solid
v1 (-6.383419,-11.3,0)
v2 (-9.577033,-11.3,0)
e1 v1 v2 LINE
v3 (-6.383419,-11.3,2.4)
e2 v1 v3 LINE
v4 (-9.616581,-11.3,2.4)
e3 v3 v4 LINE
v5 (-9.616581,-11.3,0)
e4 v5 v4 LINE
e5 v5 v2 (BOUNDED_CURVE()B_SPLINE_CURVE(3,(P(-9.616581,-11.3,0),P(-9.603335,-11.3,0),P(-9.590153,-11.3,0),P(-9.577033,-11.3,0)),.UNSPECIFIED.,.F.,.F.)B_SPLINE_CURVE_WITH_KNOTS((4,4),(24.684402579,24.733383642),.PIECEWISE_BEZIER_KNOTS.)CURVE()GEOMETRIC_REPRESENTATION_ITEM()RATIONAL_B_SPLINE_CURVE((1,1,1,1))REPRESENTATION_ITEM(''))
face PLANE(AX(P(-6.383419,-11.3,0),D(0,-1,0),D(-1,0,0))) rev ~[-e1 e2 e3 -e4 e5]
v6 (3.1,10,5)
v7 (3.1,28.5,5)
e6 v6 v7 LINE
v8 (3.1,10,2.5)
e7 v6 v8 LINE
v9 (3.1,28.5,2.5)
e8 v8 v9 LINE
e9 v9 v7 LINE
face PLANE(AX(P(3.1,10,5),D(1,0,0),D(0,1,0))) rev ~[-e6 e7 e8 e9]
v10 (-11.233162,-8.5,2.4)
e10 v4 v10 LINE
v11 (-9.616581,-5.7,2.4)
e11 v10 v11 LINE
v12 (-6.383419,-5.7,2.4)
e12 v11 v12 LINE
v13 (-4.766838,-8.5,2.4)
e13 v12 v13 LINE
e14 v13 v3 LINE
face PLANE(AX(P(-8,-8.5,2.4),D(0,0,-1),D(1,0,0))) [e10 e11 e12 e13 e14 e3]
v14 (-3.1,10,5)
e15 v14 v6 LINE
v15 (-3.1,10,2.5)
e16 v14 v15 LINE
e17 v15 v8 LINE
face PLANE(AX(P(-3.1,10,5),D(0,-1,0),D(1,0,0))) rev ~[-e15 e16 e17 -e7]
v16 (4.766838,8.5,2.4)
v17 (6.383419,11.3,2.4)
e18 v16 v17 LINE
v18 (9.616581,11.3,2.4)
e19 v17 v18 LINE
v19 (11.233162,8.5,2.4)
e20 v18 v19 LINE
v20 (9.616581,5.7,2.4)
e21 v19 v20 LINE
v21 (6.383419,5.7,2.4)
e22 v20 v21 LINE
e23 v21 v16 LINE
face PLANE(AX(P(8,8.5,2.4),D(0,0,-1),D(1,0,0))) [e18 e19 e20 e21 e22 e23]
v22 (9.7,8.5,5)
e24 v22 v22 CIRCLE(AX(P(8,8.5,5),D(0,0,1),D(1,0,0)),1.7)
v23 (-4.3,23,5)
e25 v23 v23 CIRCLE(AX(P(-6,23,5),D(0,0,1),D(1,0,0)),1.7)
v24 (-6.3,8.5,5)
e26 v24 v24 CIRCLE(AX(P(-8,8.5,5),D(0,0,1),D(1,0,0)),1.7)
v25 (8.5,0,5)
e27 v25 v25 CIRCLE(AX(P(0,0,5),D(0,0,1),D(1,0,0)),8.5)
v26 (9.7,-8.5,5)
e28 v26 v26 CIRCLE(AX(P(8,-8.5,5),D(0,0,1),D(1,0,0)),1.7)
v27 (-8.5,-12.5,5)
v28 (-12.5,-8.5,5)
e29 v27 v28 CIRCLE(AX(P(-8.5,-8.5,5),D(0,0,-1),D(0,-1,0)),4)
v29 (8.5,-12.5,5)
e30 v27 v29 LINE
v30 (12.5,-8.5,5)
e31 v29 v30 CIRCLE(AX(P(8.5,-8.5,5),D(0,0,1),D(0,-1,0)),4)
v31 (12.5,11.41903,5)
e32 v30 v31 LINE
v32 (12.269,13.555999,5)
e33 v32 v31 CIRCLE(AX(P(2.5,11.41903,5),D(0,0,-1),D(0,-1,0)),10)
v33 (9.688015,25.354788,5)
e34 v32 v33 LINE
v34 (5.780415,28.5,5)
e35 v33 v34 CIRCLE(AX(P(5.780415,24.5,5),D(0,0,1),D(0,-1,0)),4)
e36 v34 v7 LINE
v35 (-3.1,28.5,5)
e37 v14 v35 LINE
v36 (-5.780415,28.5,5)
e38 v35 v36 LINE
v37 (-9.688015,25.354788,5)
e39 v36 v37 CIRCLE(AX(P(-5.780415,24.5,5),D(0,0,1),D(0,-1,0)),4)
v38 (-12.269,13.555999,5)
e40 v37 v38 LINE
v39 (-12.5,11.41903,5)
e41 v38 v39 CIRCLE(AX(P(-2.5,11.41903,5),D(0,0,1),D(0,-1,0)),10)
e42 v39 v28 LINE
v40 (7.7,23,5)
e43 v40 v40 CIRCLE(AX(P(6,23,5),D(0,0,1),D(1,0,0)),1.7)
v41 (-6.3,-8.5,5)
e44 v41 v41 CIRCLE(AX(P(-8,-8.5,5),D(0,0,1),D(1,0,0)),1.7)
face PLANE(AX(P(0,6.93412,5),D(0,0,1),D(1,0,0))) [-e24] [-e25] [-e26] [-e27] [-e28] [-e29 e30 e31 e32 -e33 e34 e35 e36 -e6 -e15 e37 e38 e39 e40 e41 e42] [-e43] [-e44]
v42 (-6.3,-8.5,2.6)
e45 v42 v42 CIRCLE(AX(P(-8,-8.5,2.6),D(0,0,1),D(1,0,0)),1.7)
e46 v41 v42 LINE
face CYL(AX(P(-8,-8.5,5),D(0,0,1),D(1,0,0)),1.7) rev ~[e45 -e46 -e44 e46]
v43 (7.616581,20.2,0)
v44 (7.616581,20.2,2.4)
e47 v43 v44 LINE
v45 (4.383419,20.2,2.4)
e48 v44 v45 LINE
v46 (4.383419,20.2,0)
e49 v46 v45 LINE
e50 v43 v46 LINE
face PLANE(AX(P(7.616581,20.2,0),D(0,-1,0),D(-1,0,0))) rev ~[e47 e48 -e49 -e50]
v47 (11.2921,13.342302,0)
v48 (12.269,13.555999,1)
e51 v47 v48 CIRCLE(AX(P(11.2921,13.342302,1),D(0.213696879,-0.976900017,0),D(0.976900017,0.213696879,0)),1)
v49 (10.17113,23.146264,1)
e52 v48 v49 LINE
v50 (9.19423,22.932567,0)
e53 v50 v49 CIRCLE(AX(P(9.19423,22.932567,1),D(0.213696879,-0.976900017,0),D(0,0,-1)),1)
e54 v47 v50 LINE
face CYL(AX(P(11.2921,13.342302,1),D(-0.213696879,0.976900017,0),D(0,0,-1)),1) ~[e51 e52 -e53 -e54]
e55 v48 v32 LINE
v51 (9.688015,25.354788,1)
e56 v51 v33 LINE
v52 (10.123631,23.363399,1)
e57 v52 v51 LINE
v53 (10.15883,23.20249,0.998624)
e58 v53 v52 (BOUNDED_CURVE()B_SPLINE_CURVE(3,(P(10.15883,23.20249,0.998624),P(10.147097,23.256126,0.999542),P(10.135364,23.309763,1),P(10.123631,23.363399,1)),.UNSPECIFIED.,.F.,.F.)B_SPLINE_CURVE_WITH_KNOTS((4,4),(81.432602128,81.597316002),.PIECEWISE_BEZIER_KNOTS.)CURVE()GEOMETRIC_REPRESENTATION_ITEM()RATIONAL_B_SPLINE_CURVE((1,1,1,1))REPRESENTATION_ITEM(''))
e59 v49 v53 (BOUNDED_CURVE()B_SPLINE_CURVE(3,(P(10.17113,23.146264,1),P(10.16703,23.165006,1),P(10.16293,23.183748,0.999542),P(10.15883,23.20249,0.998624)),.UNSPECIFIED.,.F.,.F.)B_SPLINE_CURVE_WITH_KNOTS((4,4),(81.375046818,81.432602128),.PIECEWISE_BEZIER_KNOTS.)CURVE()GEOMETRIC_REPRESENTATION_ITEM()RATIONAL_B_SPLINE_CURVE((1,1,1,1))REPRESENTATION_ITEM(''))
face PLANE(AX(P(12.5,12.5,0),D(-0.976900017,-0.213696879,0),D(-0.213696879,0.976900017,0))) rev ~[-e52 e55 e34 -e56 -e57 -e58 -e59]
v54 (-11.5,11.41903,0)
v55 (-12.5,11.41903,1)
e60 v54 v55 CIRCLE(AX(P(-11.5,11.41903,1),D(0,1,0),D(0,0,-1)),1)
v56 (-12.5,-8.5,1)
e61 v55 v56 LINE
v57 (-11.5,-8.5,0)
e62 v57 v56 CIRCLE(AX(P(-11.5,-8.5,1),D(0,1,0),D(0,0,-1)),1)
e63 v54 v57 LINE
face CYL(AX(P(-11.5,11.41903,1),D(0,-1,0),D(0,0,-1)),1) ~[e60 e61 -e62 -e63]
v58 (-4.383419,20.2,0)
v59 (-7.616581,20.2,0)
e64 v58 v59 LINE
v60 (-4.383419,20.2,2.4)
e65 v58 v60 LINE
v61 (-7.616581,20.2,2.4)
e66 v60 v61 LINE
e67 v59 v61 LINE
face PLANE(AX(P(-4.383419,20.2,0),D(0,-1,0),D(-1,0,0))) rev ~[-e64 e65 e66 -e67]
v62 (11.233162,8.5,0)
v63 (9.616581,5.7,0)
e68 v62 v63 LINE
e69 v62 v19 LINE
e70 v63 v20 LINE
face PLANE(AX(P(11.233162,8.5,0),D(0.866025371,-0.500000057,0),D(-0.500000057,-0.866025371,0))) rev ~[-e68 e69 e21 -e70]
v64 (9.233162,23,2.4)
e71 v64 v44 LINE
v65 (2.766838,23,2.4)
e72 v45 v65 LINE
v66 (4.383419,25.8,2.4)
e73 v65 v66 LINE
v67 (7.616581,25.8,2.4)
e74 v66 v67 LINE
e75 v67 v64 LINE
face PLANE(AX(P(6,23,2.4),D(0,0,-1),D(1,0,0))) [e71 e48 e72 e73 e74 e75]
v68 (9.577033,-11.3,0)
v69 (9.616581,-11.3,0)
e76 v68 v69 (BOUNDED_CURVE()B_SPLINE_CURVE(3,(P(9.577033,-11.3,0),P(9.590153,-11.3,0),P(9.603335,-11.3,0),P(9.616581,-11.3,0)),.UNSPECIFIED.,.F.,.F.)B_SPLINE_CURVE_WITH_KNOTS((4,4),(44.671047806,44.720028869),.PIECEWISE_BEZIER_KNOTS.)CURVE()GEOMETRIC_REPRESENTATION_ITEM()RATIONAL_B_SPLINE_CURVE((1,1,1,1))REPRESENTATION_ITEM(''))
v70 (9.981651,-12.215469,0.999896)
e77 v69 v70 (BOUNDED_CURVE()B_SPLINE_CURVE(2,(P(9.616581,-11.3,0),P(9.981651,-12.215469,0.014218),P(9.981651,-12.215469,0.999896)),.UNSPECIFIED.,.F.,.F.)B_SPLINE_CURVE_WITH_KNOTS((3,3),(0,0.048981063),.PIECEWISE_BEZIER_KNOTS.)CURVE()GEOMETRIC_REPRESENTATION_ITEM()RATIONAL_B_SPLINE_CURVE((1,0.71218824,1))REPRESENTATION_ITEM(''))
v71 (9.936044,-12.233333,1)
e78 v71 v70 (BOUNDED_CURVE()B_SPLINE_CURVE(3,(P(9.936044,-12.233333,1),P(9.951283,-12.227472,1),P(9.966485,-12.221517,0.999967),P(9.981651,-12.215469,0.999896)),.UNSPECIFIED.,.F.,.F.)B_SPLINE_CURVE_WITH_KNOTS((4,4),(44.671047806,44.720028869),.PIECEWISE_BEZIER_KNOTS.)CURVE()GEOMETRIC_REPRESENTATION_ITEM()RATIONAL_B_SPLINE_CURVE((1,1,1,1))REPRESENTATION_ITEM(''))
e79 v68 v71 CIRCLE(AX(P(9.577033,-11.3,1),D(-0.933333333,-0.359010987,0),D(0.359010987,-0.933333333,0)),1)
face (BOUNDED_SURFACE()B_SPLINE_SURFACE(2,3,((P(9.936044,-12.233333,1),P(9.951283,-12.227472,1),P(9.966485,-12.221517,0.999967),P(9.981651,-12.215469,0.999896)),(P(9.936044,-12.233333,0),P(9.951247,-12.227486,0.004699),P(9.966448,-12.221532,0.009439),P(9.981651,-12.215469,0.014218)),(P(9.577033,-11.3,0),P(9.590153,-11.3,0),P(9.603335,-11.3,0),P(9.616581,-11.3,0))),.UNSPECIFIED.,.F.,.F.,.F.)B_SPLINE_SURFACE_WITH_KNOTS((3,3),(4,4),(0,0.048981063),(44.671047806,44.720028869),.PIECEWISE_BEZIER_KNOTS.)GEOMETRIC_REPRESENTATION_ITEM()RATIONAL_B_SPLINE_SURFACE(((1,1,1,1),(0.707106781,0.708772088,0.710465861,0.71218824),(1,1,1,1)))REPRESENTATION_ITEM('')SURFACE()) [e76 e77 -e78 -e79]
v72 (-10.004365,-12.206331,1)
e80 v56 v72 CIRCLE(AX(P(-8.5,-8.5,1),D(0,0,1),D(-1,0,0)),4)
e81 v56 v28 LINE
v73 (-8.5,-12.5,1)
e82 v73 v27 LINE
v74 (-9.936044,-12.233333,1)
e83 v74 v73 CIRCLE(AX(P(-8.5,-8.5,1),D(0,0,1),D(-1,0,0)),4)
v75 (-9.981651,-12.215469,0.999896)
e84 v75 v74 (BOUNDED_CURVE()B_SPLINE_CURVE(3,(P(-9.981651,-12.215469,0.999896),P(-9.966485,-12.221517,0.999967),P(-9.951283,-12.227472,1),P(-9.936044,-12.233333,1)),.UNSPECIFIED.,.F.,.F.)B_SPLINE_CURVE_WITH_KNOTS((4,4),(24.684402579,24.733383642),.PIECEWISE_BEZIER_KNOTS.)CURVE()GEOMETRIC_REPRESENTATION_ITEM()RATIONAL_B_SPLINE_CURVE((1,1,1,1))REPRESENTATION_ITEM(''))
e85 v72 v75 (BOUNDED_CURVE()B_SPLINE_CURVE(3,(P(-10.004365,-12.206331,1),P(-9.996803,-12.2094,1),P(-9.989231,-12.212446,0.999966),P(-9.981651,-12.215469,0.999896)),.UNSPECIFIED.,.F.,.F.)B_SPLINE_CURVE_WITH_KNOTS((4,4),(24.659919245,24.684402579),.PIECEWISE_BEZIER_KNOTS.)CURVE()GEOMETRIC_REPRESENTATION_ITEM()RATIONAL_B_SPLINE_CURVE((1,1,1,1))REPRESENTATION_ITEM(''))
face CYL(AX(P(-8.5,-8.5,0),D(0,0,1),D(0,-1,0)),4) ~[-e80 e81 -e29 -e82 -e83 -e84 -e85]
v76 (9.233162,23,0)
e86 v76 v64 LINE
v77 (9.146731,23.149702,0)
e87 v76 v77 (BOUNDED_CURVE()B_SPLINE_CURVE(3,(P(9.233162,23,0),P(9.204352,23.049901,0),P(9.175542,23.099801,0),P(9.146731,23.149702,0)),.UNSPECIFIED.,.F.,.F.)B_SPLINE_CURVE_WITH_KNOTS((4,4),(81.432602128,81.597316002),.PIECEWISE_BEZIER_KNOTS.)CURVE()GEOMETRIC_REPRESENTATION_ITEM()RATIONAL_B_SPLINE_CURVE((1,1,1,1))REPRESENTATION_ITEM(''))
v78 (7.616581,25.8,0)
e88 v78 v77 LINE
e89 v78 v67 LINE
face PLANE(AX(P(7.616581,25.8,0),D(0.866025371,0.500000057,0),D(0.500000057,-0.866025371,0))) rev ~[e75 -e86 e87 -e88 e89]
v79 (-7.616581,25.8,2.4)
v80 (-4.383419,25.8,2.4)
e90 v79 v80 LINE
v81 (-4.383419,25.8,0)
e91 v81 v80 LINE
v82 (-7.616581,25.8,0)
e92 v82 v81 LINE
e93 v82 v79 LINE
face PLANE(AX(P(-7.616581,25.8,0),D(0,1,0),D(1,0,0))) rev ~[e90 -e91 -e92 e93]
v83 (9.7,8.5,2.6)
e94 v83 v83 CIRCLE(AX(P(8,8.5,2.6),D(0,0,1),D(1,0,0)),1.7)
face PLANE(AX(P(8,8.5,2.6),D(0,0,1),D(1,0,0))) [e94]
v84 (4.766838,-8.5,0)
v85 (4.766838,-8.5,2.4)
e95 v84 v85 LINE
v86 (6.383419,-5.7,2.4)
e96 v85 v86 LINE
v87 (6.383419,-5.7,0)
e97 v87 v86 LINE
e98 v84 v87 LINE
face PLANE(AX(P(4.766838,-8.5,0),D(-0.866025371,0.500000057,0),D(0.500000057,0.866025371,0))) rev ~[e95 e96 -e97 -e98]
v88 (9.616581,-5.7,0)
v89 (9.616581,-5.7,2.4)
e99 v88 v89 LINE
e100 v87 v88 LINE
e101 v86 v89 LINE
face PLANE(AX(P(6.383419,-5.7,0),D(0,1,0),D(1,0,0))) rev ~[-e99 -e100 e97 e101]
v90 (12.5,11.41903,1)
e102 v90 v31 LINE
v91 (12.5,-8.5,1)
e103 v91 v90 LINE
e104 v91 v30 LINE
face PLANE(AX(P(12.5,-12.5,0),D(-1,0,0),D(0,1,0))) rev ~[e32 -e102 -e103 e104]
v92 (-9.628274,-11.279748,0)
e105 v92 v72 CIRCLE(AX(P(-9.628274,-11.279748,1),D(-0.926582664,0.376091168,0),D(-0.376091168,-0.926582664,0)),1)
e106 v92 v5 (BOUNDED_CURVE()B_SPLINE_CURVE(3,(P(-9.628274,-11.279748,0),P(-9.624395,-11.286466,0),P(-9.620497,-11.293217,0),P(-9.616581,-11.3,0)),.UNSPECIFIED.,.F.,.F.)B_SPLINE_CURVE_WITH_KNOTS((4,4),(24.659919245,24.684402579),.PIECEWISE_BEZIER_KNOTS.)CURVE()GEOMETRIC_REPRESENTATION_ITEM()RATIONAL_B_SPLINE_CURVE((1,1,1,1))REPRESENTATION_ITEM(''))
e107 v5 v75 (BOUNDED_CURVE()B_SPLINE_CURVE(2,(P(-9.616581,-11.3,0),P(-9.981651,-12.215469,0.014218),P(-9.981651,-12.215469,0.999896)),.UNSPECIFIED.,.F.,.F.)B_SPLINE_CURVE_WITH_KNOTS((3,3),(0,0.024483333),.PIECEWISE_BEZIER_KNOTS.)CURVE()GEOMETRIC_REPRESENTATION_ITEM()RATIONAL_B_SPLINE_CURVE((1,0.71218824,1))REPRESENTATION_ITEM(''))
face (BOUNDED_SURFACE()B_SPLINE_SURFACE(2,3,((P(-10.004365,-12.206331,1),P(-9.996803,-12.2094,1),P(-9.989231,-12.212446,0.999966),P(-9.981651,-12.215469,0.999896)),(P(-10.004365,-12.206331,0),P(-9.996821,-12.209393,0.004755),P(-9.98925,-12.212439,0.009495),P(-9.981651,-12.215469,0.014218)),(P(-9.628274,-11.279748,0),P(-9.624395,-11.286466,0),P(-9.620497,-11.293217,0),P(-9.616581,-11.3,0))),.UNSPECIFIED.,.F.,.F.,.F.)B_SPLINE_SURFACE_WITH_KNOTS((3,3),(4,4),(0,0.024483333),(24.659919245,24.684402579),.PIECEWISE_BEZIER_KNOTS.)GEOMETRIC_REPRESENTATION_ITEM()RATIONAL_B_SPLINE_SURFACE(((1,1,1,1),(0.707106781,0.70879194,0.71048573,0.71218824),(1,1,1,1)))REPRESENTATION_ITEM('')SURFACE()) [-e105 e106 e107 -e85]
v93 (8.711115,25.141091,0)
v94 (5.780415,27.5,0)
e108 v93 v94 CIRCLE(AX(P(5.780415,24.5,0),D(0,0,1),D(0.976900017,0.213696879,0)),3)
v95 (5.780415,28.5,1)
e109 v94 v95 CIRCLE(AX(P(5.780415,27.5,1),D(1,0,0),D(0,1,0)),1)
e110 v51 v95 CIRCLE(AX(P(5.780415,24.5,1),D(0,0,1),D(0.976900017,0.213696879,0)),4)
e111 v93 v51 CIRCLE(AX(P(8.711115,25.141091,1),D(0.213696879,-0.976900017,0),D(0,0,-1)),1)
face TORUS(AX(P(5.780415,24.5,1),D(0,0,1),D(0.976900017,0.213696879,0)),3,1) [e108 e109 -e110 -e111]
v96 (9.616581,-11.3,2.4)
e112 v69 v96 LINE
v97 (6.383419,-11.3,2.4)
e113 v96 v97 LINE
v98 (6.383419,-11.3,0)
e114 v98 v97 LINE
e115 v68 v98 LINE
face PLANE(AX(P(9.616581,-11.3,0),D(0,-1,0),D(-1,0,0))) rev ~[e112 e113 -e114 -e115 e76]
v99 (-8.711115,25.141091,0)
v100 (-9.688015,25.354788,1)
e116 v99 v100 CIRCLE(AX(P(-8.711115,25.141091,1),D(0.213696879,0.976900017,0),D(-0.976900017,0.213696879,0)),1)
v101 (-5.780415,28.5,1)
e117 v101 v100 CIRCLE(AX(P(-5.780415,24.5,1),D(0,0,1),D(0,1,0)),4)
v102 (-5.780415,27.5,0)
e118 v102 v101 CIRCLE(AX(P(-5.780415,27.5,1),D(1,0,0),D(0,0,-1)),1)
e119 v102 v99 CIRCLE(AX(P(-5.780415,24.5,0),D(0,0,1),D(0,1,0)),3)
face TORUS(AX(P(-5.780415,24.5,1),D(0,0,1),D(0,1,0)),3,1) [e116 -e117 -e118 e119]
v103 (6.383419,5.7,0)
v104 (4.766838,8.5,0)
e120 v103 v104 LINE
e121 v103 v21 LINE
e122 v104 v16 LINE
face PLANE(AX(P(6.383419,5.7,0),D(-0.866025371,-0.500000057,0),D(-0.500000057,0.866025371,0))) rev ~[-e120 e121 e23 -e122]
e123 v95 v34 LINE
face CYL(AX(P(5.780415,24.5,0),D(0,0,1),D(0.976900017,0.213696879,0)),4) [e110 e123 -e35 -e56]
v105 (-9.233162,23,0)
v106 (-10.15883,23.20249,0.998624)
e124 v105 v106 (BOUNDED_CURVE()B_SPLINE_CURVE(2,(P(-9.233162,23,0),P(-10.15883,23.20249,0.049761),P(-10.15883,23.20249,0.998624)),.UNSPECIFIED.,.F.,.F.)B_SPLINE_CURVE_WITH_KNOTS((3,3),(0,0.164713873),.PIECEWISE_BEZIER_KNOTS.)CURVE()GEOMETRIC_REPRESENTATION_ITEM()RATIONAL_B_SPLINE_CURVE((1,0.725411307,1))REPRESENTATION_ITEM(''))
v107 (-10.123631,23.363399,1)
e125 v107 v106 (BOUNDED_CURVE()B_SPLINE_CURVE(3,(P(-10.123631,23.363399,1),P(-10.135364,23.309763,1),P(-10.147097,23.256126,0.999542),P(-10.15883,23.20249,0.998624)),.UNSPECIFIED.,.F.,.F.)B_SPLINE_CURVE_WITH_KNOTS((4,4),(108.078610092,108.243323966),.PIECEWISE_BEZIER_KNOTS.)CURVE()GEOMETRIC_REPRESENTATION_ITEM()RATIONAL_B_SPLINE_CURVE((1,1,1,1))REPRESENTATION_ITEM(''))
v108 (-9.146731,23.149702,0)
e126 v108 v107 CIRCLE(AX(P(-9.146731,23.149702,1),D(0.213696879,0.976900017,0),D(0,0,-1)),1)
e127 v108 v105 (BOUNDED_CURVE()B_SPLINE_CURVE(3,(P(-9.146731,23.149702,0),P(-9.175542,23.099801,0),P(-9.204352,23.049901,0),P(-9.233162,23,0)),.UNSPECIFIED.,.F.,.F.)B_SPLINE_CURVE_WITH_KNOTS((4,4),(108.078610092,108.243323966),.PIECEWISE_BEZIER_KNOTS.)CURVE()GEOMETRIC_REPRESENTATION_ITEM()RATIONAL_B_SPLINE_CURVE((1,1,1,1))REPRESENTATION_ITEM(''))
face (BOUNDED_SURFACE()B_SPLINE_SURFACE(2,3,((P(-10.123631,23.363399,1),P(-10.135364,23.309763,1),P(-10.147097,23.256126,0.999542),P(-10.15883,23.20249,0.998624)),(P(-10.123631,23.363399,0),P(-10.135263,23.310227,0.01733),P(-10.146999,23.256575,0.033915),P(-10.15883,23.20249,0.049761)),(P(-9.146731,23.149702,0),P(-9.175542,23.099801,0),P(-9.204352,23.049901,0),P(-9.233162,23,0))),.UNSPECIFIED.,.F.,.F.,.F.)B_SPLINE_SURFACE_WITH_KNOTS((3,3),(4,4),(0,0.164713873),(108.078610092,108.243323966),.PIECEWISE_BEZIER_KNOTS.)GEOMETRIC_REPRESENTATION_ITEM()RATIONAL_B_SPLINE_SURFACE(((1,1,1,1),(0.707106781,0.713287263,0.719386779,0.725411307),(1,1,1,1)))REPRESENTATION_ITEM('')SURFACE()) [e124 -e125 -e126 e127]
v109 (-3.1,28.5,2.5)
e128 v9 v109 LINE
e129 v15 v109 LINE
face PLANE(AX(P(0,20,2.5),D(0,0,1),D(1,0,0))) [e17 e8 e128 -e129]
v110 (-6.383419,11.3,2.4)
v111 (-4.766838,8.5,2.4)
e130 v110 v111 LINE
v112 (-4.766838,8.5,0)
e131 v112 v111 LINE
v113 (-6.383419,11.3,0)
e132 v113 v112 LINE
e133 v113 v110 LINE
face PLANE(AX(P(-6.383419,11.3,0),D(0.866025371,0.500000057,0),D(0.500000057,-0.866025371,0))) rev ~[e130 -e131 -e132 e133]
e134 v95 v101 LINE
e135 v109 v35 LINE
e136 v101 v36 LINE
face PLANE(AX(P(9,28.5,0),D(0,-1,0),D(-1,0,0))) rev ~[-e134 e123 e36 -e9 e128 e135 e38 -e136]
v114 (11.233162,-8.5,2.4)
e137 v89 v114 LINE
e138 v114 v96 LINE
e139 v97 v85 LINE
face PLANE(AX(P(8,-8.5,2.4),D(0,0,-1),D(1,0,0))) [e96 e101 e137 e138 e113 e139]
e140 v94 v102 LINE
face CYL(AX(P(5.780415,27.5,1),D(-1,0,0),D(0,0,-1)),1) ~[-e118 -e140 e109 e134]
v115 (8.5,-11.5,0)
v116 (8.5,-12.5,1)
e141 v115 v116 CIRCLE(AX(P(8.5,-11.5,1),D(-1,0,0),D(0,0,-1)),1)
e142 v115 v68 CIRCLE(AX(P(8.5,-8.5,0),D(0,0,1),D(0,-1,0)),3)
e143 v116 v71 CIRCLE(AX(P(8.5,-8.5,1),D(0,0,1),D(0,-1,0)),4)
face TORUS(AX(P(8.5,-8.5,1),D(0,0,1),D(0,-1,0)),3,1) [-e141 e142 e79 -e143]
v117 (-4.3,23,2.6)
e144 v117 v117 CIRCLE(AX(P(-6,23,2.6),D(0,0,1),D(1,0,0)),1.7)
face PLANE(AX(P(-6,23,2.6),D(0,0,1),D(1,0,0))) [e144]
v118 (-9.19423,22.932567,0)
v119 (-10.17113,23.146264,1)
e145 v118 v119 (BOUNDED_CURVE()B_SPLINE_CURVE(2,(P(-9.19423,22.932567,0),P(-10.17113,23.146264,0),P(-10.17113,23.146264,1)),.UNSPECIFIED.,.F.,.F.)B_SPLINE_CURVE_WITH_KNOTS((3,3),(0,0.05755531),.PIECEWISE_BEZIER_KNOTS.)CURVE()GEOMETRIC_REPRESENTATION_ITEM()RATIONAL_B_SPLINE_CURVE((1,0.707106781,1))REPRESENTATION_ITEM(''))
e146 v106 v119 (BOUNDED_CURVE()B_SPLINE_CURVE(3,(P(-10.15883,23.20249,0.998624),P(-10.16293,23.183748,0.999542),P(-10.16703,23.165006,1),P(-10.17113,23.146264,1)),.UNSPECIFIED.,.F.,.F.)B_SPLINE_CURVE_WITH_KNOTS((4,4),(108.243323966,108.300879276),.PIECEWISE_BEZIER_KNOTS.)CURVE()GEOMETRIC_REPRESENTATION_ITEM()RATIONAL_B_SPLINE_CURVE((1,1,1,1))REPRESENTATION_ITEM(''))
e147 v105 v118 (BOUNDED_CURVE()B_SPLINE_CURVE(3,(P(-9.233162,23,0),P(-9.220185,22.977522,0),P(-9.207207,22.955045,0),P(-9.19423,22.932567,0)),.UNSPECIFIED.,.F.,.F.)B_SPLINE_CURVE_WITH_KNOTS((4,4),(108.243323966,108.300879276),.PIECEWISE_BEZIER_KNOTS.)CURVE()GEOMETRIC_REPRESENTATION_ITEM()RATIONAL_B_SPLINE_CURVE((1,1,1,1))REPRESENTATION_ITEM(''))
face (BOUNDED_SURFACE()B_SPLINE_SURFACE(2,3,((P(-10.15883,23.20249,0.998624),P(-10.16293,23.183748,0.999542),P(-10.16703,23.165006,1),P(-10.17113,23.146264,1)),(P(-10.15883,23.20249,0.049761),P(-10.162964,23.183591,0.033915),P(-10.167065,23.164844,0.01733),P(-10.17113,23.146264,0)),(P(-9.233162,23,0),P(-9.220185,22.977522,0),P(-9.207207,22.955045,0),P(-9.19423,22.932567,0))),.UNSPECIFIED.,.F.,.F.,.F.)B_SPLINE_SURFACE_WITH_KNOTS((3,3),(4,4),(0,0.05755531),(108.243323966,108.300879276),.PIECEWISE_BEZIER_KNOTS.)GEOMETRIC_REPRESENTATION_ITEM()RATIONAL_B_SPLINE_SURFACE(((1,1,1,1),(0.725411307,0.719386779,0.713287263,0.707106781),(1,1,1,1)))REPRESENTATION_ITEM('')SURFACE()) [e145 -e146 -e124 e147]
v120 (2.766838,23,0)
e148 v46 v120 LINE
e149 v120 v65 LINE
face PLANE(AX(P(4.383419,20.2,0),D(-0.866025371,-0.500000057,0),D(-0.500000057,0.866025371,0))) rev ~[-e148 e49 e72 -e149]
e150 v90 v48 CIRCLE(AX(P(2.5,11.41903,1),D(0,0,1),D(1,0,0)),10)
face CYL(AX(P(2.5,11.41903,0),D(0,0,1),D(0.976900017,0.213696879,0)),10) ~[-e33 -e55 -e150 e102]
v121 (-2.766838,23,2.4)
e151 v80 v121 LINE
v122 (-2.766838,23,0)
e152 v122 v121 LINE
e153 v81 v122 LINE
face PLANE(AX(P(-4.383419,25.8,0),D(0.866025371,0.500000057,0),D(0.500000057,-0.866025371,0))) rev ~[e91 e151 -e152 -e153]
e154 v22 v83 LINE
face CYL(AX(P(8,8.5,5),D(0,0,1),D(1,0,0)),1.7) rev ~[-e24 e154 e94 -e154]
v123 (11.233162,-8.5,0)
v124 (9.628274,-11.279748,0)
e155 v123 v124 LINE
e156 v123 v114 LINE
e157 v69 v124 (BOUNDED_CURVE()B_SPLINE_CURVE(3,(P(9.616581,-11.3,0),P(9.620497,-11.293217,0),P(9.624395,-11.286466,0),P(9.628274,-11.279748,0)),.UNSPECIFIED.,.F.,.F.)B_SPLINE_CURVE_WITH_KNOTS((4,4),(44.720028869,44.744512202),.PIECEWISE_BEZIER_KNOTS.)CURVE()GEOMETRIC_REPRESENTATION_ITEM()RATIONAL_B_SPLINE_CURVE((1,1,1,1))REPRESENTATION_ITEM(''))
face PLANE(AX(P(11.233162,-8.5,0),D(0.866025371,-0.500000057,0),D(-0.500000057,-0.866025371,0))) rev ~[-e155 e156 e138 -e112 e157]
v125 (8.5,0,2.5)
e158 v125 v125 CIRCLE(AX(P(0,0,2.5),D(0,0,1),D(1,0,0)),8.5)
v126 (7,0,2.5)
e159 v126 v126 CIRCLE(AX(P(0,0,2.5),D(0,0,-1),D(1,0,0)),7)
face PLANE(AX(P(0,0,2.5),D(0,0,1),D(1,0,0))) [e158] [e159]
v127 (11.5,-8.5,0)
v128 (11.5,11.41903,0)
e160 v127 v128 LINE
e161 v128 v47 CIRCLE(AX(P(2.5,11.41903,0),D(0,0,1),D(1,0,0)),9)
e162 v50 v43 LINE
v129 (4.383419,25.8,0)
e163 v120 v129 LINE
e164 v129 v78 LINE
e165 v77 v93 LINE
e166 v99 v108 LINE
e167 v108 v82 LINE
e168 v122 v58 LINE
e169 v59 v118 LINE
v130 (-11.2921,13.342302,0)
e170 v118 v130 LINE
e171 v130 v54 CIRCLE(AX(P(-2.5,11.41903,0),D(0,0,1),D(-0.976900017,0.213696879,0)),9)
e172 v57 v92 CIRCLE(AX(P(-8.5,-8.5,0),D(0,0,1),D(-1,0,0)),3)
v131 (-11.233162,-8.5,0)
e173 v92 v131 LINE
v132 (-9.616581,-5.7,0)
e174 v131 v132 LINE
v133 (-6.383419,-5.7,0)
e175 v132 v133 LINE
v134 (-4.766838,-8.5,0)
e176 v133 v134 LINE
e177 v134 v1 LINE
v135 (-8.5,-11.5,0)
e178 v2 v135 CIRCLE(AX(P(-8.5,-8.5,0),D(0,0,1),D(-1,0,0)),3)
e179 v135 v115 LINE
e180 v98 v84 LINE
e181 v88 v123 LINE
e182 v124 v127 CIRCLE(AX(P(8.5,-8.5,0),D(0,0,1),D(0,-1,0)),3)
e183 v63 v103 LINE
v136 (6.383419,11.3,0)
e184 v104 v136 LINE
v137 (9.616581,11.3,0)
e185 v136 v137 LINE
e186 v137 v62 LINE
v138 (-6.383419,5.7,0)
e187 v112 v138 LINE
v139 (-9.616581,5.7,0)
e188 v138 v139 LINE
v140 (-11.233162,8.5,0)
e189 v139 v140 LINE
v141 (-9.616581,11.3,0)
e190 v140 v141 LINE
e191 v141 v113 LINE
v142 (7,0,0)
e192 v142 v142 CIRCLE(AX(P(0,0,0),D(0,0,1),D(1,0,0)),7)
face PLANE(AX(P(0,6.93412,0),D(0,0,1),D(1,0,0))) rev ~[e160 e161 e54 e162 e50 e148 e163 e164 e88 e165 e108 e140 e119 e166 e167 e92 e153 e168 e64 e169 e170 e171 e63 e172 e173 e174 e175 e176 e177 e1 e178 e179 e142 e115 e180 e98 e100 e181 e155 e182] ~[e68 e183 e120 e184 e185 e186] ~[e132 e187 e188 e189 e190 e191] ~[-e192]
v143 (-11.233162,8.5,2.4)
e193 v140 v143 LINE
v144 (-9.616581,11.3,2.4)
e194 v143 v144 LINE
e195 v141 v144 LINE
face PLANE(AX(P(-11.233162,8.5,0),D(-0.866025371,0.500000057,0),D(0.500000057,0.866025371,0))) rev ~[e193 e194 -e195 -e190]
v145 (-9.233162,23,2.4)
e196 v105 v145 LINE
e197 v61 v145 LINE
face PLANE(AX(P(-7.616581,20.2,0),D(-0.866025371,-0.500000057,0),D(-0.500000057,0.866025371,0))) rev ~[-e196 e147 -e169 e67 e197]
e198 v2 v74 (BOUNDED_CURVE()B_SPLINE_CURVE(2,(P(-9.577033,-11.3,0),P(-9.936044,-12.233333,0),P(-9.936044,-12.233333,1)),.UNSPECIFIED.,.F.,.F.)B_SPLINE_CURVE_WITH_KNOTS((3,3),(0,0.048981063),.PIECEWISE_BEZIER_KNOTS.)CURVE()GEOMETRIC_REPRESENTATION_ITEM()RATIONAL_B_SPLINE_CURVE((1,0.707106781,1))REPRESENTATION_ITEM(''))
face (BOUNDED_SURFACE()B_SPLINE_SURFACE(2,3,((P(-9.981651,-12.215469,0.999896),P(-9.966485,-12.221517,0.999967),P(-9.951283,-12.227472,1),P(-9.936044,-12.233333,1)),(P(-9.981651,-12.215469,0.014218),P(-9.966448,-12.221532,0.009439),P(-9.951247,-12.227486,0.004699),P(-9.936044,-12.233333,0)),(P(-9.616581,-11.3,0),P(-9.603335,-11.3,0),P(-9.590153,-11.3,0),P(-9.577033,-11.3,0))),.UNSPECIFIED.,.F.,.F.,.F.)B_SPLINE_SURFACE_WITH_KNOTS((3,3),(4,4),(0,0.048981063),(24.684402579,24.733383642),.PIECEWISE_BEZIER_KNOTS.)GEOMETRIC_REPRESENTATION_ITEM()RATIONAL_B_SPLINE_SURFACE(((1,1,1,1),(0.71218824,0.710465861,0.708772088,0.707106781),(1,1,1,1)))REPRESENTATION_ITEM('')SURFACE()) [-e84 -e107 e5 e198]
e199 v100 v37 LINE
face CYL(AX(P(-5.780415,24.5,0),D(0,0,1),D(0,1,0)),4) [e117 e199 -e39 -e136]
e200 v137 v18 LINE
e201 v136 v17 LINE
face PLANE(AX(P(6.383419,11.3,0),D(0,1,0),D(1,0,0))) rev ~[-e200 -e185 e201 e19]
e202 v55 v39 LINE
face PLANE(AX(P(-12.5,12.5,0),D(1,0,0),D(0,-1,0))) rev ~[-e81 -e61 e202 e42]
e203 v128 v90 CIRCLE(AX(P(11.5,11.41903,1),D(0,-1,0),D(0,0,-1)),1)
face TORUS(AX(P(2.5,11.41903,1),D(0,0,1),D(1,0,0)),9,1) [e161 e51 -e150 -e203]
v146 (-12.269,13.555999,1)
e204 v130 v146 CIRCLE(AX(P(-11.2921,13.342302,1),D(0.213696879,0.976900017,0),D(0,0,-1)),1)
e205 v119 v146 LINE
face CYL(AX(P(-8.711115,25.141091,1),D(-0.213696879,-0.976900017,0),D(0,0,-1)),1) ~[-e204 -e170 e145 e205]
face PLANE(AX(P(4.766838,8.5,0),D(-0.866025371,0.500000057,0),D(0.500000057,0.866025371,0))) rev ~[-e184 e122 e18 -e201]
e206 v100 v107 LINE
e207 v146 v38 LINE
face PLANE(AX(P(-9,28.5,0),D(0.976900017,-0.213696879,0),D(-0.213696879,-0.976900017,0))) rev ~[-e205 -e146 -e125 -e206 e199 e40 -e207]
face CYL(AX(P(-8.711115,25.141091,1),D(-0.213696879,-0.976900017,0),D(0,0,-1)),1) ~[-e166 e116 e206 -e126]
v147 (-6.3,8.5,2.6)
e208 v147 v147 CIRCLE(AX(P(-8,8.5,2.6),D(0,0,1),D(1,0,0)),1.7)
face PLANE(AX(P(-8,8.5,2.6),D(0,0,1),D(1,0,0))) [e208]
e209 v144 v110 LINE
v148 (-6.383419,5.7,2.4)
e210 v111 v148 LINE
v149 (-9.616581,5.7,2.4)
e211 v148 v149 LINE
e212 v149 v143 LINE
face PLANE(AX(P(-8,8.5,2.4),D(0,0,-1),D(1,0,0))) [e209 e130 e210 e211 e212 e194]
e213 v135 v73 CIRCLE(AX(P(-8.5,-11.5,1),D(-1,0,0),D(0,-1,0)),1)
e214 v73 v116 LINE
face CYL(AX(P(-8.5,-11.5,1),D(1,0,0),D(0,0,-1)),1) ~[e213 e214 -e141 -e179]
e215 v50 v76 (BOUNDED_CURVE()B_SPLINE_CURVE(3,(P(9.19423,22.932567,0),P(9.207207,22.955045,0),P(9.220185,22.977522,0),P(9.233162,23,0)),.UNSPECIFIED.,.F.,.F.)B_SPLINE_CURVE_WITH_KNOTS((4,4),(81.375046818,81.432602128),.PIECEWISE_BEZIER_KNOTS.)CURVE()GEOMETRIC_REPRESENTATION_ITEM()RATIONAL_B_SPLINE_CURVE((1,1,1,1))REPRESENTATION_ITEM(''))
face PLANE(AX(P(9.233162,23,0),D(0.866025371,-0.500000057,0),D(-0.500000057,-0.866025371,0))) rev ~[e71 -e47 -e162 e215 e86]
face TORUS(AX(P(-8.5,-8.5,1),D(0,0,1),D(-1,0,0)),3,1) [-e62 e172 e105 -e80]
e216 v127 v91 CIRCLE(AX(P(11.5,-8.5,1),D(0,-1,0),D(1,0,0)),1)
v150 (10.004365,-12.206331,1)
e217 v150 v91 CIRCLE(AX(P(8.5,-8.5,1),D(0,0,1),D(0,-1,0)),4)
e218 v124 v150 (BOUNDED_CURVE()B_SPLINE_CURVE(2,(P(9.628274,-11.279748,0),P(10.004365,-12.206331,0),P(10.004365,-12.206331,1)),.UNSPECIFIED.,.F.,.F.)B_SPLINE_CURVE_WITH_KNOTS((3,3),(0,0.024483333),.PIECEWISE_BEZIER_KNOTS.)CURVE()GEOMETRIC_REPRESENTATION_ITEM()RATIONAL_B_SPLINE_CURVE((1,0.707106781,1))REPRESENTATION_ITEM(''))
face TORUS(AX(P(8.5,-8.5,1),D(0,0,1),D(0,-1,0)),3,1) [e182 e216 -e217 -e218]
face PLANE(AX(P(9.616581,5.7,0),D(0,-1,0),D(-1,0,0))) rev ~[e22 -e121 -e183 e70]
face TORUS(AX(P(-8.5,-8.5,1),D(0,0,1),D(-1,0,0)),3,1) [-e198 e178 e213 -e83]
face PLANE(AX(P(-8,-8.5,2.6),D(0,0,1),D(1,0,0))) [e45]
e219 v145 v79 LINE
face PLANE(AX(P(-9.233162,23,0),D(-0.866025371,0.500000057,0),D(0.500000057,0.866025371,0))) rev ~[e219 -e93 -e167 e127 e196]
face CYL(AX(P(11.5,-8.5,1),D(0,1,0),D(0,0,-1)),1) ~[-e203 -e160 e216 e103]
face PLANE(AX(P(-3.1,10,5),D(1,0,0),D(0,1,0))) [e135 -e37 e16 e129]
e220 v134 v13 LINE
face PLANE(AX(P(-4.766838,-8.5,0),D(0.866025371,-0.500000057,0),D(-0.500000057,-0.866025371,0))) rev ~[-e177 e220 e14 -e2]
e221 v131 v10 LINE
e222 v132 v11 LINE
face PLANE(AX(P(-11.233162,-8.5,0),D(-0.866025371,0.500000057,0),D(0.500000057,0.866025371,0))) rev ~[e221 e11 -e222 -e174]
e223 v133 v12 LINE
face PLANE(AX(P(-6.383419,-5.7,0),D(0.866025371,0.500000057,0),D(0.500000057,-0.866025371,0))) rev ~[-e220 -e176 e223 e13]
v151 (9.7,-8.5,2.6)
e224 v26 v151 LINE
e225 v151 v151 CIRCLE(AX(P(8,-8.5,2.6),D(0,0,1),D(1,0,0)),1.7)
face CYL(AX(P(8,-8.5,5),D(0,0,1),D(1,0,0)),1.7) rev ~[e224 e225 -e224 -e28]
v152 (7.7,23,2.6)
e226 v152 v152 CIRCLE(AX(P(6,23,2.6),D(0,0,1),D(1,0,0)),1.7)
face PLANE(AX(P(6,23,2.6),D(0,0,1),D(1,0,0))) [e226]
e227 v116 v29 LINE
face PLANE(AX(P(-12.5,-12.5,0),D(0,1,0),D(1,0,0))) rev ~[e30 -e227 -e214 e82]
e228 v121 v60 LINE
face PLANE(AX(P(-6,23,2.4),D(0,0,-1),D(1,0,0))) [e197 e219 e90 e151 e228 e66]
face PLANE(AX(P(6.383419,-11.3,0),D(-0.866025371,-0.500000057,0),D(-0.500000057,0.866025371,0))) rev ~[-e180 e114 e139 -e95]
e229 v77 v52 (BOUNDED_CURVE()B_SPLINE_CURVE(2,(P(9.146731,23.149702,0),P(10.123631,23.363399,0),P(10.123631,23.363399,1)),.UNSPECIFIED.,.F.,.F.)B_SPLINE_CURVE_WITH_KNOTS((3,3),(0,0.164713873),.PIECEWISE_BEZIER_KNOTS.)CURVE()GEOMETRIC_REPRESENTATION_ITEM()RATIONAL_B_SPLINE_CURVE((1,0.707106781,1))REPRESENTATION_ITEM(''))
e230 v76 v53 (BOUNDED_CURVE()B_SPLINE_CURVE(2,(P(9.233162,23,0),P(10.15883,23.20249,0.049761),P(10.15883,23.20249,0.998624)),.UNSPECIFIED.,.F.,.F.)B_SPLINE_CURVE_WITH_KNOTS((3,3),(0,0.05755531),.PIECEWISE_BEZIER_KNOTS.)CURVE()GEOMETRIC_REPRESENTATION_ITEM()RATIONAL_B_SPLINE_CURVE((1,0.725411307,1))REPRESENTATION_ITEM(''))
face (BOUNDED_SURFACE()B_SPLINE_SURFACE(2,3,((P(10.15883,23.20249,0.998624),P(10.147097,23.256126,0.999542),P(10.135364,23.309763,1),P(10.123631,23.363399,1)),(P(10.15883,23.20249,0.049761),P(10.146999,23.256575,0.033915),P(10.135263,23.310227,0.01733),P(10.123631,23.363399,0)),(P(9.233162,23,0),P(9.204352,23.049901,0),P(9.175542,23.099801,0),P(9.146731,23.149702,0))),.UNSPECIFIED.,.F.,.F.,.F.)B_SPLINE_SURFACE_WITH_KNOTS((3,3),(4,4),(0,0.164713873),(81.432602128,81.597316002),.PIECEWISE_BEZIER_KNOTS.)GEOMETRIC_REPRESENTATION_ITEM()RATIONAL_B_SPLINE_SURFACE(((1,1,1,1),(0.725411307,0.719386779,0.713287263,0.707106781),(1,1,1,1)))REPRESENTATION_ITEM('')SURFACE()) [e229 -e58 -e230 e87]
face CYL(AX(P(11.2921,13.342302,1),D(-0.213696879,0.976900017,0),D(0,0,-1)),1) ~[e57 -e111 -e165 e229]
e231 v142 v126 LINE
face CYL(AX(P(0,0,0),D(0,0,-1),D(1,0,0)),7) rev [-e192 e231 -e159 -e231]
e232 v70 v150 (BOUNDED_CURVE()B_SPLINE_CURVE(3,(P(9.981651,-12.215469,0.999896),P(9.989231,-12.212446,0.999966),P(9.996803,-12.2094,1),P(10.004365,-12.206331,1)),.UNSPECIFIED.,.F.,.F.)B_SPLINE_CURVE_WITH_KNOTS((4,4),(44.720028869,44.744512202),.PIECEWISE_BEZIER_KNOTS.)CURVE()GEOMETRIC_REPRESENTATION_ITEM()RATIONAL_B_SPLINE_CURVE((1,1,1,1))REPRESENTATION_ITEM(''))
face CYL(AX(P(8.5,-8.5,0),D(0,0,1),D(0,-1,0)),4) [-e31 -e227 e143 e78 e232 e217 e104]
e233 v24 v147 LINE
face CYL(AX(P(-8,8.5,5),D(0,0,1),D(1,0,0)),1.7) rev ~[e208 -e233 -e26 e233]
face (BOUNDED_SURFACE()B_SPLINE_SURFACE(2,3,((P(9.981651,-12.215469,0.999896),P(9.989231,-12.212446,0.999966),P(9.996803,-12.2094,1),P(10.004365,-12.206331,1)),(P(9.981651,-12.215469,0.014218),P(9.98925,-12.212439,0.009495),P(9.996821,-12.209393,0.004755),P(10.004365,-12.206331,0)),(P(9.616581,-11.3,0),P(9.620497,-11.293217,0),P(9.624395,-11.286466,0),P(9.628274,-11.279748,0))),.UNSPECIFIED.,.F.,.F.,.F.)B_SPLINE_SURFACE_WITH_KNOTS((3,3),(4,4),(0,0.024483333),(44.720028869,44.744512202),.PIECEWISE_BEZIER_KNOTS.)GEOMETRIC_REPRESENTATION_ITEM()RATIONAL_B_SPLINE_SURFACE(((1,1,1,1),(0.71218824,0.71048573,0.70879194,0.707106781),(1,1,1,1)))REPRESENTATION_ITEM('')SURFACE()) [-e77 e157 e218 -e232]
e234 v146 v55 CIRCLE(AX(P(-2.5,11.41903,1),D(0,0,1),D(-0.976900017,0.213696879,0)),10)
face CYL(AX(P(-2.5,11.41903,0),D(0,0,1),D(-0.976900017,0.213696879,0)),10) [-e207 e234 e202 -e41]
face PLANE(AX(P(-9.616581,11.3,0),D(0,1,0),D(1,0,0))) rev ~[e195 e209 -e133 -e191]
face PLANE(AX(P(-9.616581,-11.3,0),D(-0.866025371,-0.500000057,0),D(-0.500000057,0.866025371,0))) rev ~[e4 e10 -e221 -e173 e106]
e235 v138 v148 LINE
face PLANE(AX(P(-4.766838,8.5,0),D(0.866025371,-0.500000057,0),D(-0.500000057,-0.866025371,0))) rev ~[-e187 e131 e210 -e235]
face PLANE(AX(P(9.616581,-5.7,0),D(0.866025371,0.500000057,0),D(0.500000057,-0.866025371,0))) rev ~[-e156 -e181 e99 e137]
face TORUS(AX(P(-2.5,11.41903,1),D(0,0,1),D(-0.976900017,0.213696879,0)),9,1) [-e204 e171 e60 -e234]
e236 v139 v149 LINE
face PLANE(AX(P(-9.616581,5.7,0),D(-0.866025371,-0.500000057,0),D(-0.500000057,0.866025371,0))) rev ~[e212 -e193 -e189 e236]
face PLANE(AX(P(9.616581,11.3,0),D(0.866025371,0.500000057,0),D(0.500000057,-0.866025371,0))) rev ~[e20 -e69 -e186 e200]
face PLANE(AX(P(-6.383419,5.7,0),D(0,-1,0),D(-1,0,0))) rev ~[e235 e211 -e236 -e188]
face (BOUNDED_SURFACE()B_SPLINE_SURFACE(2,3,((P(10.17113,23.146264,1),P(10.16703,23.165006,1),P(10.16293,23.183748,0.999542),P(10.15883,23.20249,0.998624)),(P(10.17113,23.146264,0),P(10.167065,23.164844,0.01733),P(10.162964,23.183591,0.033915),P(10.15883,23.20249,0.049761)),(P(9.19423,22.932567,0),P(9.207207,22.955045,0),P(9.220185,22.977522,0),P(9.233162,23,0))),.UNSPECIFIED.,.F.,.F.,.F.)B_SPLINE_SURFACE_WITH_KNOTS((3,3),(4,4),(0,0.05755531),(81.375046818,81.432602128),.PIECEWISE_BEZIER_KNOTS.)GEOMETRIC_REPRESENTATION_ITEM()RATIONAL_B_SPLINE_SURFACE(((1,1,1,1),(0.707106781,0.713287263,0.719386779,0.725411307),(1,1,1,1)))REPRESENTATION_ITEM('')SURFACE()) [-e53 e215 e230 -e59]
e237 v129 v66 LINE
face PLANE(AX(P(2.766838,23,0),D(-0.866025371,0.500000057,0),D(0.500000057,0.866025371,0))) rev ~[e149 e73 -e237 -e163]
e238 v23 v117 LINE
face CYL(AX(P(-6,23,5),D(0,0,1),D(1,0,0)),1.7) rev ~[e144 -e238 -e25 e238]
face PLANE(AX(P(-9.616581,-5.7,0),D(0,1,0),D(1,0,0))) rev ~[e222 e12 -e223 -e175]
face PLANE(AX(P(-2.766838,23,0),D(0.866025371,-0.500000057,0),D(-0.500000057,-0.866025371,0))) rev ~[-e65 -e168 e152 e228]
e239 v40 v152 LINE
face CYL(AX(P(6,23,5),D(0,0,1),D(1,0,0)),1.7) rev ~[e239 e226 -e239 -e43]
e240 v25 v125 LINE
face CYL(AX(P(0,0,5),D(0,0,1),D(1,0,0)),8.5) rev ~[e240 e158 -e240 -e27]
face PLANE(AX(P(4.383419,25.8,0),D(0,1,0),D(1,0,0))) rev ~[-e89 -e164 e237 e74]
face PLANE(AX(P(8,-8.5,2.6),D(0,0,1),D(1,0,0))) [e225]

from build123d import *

# Parameters (mm, degrees)
SKETCH_R        = 7
PAD_DEPTH       = 5
SKETCH001_R     = 8.5
SKETCH001_W     = 6.2
SKETCH001_H     = 20
POCKET_DEPTH    = 2.5
FILLET_R        = 4
FILLET001_R     = 4
POCKET001_DEPTH = 2.4
SKETCH003_R     = 1.7
POCKET002_DEPTH = 2.4
FILLET002_R     = 4
FILLET003_R     = 4
FILLET004_R     = 10
FILLET005_R     = 10
FILLET006_R     = 1


with BuildPart() as part:
    # Sketch → Pad (new body)
    with BuildSketch(Plane.XY):
        Polygon((-12.5, -12.5), (12.5, -12.5), (12.5, 12.5), (9, 28.5), (-9, 28.5), (-12.5, 12.5), align=None)
        Circle(SKETCH_R, mode=Mode.SUBTRACT)
    extrude(amount=PAD_DEPTH)

    # Sketch001 → Pocket (cut)
    with BuildSketch(Plane.XY.offset(5)):
        Circle(SKETCH001_R)
        with Locations((0, 20)):
            Rectangle(SKETCH001_W, SKETCH001_H)
    extrude(amount=-POCKET_DEPTH, mode=Mode.SUBTRACT)

    # Fillet
    fillet_edges = [part.edges().sort_by_distance(p)[0] for p in [
        (-12.5, -12.5, 2.5),
    ]]
    fillet(fillet_edges, radius=FILLET_R)

    # Fillet001
    fillet001_edges = [part.edges().sort_by_distance(p)[0] for p in [
        (12.5, -12.5, 2.5),
    ]]
    fillet(fillet001_edges, radius=FILLET001_R)

    # Sketch002 → Pocket001 (cut)
    with BuildSketch(Plane(origin=(0, 0, 0), x_dir=(1, 0, 0), z_dir=(0, 0, -1))):
        Polygon((-9.616581, 11.3), (-11.233162, 8.5), (-9.616581, 5.7), (-6.383419, 5.7), (-4.766838, 8.5), (-6.383419, 11.3), align=None)
        Polygon((6.383419, 11.3), (4.766838, 8.5), (6.383419, 5.7), (9.616581, 5.7), (11.233162, 8.5), (9.616581, 11.3), align=None)
        Polygon((-9.616581, -5.7), (-11.233162, -8.5), (-9.616581, -11.3), (-6.383419, -11.3), (-4.766838, -8.5), (-6.383419, -5.7), align=None)
        Polygon((6.383419, -5.7), (4.766838, -8.5), (6.383419, -11.3), (9.616581, -11.3), (11.233162, -8.5), (9.616581, -5.7), align=None)
        Polygon((-7.616581, -20.2), (-9.233162, -23), (-7.616581, -25.8), (-4.383419, -25.8), (-2.766838, -23), (-4.383419, -20.2), align=None)
        Polygon((4.383419, -20.2), (2.766838, -23), (4.383419, -25.8), (7.616581, -25.8), (9.233162, -23), (7.616581, -20.2), align=None)
    extrude(amount=-POCKET001_DEPTH, mode=Mode.SUBTRACT)

    # Sketch003 → Pocket002 (cut)
    with BuildSketch(Plane.XY.offset(5)):
        with Locations((-8, 8.5)):
            Circle(SKETCH003_R)
        with Locations((8, 8.5)):
            Circle(SKETCH003_R)
        with Locations((-8, -8.5)):
            Circle(SKETCH003_R)
        with Locations((8, -8.5)):
            Circle(SKETCH003_R)
        with Locations((-6, 23)):
            Circle(SKETCH003_R)
        with Locations((6, 23)):
            Circle(SKETCH003_R)
    extrude(amount=-POCKET002_DEPTH, mode=Mode.SUBTRACT)

    # Fillet002
    fillet002_edges = [part.edges().sort_by_distance(p)[0] for p in [
        (9, 28.5, 2.5),
    ]]
    fillet(fillet002_edges, radius=FILLET002_R)

    # Fillet003
    fillet003_edges = [part.edges().sort_by_distance(p)[0] for p in [
        (-9, 28.5, 2.5),
    ]]
    fillet(fillet003_edges, radius=FILLET003_R)

    # Fillet004
    fillet004_edges = [part.edges().sort_by_distance(p)[0] for p in [
        (12.5, 12.5, 2.5),
    ]]
    fillet(fillet004_edges, radius=FILLET004_R)

    # Fillet005
    fillet005_edges = [part.edges().sort_by_distance(p)[0] for p in [
        (-12.5, 12.5, 2.5),
    ]]
    fillet(fillet005_edges, radius=FILLET005_R)

    # Fillet006
    fillet006_edges = [part.edges().sort_by_distance(p)[0] for p in [
        (-12.5, 1.459515, 0),
    ]]
    fillet(fillet006_edges, radius=FILLET006_R)


solid = part.part
